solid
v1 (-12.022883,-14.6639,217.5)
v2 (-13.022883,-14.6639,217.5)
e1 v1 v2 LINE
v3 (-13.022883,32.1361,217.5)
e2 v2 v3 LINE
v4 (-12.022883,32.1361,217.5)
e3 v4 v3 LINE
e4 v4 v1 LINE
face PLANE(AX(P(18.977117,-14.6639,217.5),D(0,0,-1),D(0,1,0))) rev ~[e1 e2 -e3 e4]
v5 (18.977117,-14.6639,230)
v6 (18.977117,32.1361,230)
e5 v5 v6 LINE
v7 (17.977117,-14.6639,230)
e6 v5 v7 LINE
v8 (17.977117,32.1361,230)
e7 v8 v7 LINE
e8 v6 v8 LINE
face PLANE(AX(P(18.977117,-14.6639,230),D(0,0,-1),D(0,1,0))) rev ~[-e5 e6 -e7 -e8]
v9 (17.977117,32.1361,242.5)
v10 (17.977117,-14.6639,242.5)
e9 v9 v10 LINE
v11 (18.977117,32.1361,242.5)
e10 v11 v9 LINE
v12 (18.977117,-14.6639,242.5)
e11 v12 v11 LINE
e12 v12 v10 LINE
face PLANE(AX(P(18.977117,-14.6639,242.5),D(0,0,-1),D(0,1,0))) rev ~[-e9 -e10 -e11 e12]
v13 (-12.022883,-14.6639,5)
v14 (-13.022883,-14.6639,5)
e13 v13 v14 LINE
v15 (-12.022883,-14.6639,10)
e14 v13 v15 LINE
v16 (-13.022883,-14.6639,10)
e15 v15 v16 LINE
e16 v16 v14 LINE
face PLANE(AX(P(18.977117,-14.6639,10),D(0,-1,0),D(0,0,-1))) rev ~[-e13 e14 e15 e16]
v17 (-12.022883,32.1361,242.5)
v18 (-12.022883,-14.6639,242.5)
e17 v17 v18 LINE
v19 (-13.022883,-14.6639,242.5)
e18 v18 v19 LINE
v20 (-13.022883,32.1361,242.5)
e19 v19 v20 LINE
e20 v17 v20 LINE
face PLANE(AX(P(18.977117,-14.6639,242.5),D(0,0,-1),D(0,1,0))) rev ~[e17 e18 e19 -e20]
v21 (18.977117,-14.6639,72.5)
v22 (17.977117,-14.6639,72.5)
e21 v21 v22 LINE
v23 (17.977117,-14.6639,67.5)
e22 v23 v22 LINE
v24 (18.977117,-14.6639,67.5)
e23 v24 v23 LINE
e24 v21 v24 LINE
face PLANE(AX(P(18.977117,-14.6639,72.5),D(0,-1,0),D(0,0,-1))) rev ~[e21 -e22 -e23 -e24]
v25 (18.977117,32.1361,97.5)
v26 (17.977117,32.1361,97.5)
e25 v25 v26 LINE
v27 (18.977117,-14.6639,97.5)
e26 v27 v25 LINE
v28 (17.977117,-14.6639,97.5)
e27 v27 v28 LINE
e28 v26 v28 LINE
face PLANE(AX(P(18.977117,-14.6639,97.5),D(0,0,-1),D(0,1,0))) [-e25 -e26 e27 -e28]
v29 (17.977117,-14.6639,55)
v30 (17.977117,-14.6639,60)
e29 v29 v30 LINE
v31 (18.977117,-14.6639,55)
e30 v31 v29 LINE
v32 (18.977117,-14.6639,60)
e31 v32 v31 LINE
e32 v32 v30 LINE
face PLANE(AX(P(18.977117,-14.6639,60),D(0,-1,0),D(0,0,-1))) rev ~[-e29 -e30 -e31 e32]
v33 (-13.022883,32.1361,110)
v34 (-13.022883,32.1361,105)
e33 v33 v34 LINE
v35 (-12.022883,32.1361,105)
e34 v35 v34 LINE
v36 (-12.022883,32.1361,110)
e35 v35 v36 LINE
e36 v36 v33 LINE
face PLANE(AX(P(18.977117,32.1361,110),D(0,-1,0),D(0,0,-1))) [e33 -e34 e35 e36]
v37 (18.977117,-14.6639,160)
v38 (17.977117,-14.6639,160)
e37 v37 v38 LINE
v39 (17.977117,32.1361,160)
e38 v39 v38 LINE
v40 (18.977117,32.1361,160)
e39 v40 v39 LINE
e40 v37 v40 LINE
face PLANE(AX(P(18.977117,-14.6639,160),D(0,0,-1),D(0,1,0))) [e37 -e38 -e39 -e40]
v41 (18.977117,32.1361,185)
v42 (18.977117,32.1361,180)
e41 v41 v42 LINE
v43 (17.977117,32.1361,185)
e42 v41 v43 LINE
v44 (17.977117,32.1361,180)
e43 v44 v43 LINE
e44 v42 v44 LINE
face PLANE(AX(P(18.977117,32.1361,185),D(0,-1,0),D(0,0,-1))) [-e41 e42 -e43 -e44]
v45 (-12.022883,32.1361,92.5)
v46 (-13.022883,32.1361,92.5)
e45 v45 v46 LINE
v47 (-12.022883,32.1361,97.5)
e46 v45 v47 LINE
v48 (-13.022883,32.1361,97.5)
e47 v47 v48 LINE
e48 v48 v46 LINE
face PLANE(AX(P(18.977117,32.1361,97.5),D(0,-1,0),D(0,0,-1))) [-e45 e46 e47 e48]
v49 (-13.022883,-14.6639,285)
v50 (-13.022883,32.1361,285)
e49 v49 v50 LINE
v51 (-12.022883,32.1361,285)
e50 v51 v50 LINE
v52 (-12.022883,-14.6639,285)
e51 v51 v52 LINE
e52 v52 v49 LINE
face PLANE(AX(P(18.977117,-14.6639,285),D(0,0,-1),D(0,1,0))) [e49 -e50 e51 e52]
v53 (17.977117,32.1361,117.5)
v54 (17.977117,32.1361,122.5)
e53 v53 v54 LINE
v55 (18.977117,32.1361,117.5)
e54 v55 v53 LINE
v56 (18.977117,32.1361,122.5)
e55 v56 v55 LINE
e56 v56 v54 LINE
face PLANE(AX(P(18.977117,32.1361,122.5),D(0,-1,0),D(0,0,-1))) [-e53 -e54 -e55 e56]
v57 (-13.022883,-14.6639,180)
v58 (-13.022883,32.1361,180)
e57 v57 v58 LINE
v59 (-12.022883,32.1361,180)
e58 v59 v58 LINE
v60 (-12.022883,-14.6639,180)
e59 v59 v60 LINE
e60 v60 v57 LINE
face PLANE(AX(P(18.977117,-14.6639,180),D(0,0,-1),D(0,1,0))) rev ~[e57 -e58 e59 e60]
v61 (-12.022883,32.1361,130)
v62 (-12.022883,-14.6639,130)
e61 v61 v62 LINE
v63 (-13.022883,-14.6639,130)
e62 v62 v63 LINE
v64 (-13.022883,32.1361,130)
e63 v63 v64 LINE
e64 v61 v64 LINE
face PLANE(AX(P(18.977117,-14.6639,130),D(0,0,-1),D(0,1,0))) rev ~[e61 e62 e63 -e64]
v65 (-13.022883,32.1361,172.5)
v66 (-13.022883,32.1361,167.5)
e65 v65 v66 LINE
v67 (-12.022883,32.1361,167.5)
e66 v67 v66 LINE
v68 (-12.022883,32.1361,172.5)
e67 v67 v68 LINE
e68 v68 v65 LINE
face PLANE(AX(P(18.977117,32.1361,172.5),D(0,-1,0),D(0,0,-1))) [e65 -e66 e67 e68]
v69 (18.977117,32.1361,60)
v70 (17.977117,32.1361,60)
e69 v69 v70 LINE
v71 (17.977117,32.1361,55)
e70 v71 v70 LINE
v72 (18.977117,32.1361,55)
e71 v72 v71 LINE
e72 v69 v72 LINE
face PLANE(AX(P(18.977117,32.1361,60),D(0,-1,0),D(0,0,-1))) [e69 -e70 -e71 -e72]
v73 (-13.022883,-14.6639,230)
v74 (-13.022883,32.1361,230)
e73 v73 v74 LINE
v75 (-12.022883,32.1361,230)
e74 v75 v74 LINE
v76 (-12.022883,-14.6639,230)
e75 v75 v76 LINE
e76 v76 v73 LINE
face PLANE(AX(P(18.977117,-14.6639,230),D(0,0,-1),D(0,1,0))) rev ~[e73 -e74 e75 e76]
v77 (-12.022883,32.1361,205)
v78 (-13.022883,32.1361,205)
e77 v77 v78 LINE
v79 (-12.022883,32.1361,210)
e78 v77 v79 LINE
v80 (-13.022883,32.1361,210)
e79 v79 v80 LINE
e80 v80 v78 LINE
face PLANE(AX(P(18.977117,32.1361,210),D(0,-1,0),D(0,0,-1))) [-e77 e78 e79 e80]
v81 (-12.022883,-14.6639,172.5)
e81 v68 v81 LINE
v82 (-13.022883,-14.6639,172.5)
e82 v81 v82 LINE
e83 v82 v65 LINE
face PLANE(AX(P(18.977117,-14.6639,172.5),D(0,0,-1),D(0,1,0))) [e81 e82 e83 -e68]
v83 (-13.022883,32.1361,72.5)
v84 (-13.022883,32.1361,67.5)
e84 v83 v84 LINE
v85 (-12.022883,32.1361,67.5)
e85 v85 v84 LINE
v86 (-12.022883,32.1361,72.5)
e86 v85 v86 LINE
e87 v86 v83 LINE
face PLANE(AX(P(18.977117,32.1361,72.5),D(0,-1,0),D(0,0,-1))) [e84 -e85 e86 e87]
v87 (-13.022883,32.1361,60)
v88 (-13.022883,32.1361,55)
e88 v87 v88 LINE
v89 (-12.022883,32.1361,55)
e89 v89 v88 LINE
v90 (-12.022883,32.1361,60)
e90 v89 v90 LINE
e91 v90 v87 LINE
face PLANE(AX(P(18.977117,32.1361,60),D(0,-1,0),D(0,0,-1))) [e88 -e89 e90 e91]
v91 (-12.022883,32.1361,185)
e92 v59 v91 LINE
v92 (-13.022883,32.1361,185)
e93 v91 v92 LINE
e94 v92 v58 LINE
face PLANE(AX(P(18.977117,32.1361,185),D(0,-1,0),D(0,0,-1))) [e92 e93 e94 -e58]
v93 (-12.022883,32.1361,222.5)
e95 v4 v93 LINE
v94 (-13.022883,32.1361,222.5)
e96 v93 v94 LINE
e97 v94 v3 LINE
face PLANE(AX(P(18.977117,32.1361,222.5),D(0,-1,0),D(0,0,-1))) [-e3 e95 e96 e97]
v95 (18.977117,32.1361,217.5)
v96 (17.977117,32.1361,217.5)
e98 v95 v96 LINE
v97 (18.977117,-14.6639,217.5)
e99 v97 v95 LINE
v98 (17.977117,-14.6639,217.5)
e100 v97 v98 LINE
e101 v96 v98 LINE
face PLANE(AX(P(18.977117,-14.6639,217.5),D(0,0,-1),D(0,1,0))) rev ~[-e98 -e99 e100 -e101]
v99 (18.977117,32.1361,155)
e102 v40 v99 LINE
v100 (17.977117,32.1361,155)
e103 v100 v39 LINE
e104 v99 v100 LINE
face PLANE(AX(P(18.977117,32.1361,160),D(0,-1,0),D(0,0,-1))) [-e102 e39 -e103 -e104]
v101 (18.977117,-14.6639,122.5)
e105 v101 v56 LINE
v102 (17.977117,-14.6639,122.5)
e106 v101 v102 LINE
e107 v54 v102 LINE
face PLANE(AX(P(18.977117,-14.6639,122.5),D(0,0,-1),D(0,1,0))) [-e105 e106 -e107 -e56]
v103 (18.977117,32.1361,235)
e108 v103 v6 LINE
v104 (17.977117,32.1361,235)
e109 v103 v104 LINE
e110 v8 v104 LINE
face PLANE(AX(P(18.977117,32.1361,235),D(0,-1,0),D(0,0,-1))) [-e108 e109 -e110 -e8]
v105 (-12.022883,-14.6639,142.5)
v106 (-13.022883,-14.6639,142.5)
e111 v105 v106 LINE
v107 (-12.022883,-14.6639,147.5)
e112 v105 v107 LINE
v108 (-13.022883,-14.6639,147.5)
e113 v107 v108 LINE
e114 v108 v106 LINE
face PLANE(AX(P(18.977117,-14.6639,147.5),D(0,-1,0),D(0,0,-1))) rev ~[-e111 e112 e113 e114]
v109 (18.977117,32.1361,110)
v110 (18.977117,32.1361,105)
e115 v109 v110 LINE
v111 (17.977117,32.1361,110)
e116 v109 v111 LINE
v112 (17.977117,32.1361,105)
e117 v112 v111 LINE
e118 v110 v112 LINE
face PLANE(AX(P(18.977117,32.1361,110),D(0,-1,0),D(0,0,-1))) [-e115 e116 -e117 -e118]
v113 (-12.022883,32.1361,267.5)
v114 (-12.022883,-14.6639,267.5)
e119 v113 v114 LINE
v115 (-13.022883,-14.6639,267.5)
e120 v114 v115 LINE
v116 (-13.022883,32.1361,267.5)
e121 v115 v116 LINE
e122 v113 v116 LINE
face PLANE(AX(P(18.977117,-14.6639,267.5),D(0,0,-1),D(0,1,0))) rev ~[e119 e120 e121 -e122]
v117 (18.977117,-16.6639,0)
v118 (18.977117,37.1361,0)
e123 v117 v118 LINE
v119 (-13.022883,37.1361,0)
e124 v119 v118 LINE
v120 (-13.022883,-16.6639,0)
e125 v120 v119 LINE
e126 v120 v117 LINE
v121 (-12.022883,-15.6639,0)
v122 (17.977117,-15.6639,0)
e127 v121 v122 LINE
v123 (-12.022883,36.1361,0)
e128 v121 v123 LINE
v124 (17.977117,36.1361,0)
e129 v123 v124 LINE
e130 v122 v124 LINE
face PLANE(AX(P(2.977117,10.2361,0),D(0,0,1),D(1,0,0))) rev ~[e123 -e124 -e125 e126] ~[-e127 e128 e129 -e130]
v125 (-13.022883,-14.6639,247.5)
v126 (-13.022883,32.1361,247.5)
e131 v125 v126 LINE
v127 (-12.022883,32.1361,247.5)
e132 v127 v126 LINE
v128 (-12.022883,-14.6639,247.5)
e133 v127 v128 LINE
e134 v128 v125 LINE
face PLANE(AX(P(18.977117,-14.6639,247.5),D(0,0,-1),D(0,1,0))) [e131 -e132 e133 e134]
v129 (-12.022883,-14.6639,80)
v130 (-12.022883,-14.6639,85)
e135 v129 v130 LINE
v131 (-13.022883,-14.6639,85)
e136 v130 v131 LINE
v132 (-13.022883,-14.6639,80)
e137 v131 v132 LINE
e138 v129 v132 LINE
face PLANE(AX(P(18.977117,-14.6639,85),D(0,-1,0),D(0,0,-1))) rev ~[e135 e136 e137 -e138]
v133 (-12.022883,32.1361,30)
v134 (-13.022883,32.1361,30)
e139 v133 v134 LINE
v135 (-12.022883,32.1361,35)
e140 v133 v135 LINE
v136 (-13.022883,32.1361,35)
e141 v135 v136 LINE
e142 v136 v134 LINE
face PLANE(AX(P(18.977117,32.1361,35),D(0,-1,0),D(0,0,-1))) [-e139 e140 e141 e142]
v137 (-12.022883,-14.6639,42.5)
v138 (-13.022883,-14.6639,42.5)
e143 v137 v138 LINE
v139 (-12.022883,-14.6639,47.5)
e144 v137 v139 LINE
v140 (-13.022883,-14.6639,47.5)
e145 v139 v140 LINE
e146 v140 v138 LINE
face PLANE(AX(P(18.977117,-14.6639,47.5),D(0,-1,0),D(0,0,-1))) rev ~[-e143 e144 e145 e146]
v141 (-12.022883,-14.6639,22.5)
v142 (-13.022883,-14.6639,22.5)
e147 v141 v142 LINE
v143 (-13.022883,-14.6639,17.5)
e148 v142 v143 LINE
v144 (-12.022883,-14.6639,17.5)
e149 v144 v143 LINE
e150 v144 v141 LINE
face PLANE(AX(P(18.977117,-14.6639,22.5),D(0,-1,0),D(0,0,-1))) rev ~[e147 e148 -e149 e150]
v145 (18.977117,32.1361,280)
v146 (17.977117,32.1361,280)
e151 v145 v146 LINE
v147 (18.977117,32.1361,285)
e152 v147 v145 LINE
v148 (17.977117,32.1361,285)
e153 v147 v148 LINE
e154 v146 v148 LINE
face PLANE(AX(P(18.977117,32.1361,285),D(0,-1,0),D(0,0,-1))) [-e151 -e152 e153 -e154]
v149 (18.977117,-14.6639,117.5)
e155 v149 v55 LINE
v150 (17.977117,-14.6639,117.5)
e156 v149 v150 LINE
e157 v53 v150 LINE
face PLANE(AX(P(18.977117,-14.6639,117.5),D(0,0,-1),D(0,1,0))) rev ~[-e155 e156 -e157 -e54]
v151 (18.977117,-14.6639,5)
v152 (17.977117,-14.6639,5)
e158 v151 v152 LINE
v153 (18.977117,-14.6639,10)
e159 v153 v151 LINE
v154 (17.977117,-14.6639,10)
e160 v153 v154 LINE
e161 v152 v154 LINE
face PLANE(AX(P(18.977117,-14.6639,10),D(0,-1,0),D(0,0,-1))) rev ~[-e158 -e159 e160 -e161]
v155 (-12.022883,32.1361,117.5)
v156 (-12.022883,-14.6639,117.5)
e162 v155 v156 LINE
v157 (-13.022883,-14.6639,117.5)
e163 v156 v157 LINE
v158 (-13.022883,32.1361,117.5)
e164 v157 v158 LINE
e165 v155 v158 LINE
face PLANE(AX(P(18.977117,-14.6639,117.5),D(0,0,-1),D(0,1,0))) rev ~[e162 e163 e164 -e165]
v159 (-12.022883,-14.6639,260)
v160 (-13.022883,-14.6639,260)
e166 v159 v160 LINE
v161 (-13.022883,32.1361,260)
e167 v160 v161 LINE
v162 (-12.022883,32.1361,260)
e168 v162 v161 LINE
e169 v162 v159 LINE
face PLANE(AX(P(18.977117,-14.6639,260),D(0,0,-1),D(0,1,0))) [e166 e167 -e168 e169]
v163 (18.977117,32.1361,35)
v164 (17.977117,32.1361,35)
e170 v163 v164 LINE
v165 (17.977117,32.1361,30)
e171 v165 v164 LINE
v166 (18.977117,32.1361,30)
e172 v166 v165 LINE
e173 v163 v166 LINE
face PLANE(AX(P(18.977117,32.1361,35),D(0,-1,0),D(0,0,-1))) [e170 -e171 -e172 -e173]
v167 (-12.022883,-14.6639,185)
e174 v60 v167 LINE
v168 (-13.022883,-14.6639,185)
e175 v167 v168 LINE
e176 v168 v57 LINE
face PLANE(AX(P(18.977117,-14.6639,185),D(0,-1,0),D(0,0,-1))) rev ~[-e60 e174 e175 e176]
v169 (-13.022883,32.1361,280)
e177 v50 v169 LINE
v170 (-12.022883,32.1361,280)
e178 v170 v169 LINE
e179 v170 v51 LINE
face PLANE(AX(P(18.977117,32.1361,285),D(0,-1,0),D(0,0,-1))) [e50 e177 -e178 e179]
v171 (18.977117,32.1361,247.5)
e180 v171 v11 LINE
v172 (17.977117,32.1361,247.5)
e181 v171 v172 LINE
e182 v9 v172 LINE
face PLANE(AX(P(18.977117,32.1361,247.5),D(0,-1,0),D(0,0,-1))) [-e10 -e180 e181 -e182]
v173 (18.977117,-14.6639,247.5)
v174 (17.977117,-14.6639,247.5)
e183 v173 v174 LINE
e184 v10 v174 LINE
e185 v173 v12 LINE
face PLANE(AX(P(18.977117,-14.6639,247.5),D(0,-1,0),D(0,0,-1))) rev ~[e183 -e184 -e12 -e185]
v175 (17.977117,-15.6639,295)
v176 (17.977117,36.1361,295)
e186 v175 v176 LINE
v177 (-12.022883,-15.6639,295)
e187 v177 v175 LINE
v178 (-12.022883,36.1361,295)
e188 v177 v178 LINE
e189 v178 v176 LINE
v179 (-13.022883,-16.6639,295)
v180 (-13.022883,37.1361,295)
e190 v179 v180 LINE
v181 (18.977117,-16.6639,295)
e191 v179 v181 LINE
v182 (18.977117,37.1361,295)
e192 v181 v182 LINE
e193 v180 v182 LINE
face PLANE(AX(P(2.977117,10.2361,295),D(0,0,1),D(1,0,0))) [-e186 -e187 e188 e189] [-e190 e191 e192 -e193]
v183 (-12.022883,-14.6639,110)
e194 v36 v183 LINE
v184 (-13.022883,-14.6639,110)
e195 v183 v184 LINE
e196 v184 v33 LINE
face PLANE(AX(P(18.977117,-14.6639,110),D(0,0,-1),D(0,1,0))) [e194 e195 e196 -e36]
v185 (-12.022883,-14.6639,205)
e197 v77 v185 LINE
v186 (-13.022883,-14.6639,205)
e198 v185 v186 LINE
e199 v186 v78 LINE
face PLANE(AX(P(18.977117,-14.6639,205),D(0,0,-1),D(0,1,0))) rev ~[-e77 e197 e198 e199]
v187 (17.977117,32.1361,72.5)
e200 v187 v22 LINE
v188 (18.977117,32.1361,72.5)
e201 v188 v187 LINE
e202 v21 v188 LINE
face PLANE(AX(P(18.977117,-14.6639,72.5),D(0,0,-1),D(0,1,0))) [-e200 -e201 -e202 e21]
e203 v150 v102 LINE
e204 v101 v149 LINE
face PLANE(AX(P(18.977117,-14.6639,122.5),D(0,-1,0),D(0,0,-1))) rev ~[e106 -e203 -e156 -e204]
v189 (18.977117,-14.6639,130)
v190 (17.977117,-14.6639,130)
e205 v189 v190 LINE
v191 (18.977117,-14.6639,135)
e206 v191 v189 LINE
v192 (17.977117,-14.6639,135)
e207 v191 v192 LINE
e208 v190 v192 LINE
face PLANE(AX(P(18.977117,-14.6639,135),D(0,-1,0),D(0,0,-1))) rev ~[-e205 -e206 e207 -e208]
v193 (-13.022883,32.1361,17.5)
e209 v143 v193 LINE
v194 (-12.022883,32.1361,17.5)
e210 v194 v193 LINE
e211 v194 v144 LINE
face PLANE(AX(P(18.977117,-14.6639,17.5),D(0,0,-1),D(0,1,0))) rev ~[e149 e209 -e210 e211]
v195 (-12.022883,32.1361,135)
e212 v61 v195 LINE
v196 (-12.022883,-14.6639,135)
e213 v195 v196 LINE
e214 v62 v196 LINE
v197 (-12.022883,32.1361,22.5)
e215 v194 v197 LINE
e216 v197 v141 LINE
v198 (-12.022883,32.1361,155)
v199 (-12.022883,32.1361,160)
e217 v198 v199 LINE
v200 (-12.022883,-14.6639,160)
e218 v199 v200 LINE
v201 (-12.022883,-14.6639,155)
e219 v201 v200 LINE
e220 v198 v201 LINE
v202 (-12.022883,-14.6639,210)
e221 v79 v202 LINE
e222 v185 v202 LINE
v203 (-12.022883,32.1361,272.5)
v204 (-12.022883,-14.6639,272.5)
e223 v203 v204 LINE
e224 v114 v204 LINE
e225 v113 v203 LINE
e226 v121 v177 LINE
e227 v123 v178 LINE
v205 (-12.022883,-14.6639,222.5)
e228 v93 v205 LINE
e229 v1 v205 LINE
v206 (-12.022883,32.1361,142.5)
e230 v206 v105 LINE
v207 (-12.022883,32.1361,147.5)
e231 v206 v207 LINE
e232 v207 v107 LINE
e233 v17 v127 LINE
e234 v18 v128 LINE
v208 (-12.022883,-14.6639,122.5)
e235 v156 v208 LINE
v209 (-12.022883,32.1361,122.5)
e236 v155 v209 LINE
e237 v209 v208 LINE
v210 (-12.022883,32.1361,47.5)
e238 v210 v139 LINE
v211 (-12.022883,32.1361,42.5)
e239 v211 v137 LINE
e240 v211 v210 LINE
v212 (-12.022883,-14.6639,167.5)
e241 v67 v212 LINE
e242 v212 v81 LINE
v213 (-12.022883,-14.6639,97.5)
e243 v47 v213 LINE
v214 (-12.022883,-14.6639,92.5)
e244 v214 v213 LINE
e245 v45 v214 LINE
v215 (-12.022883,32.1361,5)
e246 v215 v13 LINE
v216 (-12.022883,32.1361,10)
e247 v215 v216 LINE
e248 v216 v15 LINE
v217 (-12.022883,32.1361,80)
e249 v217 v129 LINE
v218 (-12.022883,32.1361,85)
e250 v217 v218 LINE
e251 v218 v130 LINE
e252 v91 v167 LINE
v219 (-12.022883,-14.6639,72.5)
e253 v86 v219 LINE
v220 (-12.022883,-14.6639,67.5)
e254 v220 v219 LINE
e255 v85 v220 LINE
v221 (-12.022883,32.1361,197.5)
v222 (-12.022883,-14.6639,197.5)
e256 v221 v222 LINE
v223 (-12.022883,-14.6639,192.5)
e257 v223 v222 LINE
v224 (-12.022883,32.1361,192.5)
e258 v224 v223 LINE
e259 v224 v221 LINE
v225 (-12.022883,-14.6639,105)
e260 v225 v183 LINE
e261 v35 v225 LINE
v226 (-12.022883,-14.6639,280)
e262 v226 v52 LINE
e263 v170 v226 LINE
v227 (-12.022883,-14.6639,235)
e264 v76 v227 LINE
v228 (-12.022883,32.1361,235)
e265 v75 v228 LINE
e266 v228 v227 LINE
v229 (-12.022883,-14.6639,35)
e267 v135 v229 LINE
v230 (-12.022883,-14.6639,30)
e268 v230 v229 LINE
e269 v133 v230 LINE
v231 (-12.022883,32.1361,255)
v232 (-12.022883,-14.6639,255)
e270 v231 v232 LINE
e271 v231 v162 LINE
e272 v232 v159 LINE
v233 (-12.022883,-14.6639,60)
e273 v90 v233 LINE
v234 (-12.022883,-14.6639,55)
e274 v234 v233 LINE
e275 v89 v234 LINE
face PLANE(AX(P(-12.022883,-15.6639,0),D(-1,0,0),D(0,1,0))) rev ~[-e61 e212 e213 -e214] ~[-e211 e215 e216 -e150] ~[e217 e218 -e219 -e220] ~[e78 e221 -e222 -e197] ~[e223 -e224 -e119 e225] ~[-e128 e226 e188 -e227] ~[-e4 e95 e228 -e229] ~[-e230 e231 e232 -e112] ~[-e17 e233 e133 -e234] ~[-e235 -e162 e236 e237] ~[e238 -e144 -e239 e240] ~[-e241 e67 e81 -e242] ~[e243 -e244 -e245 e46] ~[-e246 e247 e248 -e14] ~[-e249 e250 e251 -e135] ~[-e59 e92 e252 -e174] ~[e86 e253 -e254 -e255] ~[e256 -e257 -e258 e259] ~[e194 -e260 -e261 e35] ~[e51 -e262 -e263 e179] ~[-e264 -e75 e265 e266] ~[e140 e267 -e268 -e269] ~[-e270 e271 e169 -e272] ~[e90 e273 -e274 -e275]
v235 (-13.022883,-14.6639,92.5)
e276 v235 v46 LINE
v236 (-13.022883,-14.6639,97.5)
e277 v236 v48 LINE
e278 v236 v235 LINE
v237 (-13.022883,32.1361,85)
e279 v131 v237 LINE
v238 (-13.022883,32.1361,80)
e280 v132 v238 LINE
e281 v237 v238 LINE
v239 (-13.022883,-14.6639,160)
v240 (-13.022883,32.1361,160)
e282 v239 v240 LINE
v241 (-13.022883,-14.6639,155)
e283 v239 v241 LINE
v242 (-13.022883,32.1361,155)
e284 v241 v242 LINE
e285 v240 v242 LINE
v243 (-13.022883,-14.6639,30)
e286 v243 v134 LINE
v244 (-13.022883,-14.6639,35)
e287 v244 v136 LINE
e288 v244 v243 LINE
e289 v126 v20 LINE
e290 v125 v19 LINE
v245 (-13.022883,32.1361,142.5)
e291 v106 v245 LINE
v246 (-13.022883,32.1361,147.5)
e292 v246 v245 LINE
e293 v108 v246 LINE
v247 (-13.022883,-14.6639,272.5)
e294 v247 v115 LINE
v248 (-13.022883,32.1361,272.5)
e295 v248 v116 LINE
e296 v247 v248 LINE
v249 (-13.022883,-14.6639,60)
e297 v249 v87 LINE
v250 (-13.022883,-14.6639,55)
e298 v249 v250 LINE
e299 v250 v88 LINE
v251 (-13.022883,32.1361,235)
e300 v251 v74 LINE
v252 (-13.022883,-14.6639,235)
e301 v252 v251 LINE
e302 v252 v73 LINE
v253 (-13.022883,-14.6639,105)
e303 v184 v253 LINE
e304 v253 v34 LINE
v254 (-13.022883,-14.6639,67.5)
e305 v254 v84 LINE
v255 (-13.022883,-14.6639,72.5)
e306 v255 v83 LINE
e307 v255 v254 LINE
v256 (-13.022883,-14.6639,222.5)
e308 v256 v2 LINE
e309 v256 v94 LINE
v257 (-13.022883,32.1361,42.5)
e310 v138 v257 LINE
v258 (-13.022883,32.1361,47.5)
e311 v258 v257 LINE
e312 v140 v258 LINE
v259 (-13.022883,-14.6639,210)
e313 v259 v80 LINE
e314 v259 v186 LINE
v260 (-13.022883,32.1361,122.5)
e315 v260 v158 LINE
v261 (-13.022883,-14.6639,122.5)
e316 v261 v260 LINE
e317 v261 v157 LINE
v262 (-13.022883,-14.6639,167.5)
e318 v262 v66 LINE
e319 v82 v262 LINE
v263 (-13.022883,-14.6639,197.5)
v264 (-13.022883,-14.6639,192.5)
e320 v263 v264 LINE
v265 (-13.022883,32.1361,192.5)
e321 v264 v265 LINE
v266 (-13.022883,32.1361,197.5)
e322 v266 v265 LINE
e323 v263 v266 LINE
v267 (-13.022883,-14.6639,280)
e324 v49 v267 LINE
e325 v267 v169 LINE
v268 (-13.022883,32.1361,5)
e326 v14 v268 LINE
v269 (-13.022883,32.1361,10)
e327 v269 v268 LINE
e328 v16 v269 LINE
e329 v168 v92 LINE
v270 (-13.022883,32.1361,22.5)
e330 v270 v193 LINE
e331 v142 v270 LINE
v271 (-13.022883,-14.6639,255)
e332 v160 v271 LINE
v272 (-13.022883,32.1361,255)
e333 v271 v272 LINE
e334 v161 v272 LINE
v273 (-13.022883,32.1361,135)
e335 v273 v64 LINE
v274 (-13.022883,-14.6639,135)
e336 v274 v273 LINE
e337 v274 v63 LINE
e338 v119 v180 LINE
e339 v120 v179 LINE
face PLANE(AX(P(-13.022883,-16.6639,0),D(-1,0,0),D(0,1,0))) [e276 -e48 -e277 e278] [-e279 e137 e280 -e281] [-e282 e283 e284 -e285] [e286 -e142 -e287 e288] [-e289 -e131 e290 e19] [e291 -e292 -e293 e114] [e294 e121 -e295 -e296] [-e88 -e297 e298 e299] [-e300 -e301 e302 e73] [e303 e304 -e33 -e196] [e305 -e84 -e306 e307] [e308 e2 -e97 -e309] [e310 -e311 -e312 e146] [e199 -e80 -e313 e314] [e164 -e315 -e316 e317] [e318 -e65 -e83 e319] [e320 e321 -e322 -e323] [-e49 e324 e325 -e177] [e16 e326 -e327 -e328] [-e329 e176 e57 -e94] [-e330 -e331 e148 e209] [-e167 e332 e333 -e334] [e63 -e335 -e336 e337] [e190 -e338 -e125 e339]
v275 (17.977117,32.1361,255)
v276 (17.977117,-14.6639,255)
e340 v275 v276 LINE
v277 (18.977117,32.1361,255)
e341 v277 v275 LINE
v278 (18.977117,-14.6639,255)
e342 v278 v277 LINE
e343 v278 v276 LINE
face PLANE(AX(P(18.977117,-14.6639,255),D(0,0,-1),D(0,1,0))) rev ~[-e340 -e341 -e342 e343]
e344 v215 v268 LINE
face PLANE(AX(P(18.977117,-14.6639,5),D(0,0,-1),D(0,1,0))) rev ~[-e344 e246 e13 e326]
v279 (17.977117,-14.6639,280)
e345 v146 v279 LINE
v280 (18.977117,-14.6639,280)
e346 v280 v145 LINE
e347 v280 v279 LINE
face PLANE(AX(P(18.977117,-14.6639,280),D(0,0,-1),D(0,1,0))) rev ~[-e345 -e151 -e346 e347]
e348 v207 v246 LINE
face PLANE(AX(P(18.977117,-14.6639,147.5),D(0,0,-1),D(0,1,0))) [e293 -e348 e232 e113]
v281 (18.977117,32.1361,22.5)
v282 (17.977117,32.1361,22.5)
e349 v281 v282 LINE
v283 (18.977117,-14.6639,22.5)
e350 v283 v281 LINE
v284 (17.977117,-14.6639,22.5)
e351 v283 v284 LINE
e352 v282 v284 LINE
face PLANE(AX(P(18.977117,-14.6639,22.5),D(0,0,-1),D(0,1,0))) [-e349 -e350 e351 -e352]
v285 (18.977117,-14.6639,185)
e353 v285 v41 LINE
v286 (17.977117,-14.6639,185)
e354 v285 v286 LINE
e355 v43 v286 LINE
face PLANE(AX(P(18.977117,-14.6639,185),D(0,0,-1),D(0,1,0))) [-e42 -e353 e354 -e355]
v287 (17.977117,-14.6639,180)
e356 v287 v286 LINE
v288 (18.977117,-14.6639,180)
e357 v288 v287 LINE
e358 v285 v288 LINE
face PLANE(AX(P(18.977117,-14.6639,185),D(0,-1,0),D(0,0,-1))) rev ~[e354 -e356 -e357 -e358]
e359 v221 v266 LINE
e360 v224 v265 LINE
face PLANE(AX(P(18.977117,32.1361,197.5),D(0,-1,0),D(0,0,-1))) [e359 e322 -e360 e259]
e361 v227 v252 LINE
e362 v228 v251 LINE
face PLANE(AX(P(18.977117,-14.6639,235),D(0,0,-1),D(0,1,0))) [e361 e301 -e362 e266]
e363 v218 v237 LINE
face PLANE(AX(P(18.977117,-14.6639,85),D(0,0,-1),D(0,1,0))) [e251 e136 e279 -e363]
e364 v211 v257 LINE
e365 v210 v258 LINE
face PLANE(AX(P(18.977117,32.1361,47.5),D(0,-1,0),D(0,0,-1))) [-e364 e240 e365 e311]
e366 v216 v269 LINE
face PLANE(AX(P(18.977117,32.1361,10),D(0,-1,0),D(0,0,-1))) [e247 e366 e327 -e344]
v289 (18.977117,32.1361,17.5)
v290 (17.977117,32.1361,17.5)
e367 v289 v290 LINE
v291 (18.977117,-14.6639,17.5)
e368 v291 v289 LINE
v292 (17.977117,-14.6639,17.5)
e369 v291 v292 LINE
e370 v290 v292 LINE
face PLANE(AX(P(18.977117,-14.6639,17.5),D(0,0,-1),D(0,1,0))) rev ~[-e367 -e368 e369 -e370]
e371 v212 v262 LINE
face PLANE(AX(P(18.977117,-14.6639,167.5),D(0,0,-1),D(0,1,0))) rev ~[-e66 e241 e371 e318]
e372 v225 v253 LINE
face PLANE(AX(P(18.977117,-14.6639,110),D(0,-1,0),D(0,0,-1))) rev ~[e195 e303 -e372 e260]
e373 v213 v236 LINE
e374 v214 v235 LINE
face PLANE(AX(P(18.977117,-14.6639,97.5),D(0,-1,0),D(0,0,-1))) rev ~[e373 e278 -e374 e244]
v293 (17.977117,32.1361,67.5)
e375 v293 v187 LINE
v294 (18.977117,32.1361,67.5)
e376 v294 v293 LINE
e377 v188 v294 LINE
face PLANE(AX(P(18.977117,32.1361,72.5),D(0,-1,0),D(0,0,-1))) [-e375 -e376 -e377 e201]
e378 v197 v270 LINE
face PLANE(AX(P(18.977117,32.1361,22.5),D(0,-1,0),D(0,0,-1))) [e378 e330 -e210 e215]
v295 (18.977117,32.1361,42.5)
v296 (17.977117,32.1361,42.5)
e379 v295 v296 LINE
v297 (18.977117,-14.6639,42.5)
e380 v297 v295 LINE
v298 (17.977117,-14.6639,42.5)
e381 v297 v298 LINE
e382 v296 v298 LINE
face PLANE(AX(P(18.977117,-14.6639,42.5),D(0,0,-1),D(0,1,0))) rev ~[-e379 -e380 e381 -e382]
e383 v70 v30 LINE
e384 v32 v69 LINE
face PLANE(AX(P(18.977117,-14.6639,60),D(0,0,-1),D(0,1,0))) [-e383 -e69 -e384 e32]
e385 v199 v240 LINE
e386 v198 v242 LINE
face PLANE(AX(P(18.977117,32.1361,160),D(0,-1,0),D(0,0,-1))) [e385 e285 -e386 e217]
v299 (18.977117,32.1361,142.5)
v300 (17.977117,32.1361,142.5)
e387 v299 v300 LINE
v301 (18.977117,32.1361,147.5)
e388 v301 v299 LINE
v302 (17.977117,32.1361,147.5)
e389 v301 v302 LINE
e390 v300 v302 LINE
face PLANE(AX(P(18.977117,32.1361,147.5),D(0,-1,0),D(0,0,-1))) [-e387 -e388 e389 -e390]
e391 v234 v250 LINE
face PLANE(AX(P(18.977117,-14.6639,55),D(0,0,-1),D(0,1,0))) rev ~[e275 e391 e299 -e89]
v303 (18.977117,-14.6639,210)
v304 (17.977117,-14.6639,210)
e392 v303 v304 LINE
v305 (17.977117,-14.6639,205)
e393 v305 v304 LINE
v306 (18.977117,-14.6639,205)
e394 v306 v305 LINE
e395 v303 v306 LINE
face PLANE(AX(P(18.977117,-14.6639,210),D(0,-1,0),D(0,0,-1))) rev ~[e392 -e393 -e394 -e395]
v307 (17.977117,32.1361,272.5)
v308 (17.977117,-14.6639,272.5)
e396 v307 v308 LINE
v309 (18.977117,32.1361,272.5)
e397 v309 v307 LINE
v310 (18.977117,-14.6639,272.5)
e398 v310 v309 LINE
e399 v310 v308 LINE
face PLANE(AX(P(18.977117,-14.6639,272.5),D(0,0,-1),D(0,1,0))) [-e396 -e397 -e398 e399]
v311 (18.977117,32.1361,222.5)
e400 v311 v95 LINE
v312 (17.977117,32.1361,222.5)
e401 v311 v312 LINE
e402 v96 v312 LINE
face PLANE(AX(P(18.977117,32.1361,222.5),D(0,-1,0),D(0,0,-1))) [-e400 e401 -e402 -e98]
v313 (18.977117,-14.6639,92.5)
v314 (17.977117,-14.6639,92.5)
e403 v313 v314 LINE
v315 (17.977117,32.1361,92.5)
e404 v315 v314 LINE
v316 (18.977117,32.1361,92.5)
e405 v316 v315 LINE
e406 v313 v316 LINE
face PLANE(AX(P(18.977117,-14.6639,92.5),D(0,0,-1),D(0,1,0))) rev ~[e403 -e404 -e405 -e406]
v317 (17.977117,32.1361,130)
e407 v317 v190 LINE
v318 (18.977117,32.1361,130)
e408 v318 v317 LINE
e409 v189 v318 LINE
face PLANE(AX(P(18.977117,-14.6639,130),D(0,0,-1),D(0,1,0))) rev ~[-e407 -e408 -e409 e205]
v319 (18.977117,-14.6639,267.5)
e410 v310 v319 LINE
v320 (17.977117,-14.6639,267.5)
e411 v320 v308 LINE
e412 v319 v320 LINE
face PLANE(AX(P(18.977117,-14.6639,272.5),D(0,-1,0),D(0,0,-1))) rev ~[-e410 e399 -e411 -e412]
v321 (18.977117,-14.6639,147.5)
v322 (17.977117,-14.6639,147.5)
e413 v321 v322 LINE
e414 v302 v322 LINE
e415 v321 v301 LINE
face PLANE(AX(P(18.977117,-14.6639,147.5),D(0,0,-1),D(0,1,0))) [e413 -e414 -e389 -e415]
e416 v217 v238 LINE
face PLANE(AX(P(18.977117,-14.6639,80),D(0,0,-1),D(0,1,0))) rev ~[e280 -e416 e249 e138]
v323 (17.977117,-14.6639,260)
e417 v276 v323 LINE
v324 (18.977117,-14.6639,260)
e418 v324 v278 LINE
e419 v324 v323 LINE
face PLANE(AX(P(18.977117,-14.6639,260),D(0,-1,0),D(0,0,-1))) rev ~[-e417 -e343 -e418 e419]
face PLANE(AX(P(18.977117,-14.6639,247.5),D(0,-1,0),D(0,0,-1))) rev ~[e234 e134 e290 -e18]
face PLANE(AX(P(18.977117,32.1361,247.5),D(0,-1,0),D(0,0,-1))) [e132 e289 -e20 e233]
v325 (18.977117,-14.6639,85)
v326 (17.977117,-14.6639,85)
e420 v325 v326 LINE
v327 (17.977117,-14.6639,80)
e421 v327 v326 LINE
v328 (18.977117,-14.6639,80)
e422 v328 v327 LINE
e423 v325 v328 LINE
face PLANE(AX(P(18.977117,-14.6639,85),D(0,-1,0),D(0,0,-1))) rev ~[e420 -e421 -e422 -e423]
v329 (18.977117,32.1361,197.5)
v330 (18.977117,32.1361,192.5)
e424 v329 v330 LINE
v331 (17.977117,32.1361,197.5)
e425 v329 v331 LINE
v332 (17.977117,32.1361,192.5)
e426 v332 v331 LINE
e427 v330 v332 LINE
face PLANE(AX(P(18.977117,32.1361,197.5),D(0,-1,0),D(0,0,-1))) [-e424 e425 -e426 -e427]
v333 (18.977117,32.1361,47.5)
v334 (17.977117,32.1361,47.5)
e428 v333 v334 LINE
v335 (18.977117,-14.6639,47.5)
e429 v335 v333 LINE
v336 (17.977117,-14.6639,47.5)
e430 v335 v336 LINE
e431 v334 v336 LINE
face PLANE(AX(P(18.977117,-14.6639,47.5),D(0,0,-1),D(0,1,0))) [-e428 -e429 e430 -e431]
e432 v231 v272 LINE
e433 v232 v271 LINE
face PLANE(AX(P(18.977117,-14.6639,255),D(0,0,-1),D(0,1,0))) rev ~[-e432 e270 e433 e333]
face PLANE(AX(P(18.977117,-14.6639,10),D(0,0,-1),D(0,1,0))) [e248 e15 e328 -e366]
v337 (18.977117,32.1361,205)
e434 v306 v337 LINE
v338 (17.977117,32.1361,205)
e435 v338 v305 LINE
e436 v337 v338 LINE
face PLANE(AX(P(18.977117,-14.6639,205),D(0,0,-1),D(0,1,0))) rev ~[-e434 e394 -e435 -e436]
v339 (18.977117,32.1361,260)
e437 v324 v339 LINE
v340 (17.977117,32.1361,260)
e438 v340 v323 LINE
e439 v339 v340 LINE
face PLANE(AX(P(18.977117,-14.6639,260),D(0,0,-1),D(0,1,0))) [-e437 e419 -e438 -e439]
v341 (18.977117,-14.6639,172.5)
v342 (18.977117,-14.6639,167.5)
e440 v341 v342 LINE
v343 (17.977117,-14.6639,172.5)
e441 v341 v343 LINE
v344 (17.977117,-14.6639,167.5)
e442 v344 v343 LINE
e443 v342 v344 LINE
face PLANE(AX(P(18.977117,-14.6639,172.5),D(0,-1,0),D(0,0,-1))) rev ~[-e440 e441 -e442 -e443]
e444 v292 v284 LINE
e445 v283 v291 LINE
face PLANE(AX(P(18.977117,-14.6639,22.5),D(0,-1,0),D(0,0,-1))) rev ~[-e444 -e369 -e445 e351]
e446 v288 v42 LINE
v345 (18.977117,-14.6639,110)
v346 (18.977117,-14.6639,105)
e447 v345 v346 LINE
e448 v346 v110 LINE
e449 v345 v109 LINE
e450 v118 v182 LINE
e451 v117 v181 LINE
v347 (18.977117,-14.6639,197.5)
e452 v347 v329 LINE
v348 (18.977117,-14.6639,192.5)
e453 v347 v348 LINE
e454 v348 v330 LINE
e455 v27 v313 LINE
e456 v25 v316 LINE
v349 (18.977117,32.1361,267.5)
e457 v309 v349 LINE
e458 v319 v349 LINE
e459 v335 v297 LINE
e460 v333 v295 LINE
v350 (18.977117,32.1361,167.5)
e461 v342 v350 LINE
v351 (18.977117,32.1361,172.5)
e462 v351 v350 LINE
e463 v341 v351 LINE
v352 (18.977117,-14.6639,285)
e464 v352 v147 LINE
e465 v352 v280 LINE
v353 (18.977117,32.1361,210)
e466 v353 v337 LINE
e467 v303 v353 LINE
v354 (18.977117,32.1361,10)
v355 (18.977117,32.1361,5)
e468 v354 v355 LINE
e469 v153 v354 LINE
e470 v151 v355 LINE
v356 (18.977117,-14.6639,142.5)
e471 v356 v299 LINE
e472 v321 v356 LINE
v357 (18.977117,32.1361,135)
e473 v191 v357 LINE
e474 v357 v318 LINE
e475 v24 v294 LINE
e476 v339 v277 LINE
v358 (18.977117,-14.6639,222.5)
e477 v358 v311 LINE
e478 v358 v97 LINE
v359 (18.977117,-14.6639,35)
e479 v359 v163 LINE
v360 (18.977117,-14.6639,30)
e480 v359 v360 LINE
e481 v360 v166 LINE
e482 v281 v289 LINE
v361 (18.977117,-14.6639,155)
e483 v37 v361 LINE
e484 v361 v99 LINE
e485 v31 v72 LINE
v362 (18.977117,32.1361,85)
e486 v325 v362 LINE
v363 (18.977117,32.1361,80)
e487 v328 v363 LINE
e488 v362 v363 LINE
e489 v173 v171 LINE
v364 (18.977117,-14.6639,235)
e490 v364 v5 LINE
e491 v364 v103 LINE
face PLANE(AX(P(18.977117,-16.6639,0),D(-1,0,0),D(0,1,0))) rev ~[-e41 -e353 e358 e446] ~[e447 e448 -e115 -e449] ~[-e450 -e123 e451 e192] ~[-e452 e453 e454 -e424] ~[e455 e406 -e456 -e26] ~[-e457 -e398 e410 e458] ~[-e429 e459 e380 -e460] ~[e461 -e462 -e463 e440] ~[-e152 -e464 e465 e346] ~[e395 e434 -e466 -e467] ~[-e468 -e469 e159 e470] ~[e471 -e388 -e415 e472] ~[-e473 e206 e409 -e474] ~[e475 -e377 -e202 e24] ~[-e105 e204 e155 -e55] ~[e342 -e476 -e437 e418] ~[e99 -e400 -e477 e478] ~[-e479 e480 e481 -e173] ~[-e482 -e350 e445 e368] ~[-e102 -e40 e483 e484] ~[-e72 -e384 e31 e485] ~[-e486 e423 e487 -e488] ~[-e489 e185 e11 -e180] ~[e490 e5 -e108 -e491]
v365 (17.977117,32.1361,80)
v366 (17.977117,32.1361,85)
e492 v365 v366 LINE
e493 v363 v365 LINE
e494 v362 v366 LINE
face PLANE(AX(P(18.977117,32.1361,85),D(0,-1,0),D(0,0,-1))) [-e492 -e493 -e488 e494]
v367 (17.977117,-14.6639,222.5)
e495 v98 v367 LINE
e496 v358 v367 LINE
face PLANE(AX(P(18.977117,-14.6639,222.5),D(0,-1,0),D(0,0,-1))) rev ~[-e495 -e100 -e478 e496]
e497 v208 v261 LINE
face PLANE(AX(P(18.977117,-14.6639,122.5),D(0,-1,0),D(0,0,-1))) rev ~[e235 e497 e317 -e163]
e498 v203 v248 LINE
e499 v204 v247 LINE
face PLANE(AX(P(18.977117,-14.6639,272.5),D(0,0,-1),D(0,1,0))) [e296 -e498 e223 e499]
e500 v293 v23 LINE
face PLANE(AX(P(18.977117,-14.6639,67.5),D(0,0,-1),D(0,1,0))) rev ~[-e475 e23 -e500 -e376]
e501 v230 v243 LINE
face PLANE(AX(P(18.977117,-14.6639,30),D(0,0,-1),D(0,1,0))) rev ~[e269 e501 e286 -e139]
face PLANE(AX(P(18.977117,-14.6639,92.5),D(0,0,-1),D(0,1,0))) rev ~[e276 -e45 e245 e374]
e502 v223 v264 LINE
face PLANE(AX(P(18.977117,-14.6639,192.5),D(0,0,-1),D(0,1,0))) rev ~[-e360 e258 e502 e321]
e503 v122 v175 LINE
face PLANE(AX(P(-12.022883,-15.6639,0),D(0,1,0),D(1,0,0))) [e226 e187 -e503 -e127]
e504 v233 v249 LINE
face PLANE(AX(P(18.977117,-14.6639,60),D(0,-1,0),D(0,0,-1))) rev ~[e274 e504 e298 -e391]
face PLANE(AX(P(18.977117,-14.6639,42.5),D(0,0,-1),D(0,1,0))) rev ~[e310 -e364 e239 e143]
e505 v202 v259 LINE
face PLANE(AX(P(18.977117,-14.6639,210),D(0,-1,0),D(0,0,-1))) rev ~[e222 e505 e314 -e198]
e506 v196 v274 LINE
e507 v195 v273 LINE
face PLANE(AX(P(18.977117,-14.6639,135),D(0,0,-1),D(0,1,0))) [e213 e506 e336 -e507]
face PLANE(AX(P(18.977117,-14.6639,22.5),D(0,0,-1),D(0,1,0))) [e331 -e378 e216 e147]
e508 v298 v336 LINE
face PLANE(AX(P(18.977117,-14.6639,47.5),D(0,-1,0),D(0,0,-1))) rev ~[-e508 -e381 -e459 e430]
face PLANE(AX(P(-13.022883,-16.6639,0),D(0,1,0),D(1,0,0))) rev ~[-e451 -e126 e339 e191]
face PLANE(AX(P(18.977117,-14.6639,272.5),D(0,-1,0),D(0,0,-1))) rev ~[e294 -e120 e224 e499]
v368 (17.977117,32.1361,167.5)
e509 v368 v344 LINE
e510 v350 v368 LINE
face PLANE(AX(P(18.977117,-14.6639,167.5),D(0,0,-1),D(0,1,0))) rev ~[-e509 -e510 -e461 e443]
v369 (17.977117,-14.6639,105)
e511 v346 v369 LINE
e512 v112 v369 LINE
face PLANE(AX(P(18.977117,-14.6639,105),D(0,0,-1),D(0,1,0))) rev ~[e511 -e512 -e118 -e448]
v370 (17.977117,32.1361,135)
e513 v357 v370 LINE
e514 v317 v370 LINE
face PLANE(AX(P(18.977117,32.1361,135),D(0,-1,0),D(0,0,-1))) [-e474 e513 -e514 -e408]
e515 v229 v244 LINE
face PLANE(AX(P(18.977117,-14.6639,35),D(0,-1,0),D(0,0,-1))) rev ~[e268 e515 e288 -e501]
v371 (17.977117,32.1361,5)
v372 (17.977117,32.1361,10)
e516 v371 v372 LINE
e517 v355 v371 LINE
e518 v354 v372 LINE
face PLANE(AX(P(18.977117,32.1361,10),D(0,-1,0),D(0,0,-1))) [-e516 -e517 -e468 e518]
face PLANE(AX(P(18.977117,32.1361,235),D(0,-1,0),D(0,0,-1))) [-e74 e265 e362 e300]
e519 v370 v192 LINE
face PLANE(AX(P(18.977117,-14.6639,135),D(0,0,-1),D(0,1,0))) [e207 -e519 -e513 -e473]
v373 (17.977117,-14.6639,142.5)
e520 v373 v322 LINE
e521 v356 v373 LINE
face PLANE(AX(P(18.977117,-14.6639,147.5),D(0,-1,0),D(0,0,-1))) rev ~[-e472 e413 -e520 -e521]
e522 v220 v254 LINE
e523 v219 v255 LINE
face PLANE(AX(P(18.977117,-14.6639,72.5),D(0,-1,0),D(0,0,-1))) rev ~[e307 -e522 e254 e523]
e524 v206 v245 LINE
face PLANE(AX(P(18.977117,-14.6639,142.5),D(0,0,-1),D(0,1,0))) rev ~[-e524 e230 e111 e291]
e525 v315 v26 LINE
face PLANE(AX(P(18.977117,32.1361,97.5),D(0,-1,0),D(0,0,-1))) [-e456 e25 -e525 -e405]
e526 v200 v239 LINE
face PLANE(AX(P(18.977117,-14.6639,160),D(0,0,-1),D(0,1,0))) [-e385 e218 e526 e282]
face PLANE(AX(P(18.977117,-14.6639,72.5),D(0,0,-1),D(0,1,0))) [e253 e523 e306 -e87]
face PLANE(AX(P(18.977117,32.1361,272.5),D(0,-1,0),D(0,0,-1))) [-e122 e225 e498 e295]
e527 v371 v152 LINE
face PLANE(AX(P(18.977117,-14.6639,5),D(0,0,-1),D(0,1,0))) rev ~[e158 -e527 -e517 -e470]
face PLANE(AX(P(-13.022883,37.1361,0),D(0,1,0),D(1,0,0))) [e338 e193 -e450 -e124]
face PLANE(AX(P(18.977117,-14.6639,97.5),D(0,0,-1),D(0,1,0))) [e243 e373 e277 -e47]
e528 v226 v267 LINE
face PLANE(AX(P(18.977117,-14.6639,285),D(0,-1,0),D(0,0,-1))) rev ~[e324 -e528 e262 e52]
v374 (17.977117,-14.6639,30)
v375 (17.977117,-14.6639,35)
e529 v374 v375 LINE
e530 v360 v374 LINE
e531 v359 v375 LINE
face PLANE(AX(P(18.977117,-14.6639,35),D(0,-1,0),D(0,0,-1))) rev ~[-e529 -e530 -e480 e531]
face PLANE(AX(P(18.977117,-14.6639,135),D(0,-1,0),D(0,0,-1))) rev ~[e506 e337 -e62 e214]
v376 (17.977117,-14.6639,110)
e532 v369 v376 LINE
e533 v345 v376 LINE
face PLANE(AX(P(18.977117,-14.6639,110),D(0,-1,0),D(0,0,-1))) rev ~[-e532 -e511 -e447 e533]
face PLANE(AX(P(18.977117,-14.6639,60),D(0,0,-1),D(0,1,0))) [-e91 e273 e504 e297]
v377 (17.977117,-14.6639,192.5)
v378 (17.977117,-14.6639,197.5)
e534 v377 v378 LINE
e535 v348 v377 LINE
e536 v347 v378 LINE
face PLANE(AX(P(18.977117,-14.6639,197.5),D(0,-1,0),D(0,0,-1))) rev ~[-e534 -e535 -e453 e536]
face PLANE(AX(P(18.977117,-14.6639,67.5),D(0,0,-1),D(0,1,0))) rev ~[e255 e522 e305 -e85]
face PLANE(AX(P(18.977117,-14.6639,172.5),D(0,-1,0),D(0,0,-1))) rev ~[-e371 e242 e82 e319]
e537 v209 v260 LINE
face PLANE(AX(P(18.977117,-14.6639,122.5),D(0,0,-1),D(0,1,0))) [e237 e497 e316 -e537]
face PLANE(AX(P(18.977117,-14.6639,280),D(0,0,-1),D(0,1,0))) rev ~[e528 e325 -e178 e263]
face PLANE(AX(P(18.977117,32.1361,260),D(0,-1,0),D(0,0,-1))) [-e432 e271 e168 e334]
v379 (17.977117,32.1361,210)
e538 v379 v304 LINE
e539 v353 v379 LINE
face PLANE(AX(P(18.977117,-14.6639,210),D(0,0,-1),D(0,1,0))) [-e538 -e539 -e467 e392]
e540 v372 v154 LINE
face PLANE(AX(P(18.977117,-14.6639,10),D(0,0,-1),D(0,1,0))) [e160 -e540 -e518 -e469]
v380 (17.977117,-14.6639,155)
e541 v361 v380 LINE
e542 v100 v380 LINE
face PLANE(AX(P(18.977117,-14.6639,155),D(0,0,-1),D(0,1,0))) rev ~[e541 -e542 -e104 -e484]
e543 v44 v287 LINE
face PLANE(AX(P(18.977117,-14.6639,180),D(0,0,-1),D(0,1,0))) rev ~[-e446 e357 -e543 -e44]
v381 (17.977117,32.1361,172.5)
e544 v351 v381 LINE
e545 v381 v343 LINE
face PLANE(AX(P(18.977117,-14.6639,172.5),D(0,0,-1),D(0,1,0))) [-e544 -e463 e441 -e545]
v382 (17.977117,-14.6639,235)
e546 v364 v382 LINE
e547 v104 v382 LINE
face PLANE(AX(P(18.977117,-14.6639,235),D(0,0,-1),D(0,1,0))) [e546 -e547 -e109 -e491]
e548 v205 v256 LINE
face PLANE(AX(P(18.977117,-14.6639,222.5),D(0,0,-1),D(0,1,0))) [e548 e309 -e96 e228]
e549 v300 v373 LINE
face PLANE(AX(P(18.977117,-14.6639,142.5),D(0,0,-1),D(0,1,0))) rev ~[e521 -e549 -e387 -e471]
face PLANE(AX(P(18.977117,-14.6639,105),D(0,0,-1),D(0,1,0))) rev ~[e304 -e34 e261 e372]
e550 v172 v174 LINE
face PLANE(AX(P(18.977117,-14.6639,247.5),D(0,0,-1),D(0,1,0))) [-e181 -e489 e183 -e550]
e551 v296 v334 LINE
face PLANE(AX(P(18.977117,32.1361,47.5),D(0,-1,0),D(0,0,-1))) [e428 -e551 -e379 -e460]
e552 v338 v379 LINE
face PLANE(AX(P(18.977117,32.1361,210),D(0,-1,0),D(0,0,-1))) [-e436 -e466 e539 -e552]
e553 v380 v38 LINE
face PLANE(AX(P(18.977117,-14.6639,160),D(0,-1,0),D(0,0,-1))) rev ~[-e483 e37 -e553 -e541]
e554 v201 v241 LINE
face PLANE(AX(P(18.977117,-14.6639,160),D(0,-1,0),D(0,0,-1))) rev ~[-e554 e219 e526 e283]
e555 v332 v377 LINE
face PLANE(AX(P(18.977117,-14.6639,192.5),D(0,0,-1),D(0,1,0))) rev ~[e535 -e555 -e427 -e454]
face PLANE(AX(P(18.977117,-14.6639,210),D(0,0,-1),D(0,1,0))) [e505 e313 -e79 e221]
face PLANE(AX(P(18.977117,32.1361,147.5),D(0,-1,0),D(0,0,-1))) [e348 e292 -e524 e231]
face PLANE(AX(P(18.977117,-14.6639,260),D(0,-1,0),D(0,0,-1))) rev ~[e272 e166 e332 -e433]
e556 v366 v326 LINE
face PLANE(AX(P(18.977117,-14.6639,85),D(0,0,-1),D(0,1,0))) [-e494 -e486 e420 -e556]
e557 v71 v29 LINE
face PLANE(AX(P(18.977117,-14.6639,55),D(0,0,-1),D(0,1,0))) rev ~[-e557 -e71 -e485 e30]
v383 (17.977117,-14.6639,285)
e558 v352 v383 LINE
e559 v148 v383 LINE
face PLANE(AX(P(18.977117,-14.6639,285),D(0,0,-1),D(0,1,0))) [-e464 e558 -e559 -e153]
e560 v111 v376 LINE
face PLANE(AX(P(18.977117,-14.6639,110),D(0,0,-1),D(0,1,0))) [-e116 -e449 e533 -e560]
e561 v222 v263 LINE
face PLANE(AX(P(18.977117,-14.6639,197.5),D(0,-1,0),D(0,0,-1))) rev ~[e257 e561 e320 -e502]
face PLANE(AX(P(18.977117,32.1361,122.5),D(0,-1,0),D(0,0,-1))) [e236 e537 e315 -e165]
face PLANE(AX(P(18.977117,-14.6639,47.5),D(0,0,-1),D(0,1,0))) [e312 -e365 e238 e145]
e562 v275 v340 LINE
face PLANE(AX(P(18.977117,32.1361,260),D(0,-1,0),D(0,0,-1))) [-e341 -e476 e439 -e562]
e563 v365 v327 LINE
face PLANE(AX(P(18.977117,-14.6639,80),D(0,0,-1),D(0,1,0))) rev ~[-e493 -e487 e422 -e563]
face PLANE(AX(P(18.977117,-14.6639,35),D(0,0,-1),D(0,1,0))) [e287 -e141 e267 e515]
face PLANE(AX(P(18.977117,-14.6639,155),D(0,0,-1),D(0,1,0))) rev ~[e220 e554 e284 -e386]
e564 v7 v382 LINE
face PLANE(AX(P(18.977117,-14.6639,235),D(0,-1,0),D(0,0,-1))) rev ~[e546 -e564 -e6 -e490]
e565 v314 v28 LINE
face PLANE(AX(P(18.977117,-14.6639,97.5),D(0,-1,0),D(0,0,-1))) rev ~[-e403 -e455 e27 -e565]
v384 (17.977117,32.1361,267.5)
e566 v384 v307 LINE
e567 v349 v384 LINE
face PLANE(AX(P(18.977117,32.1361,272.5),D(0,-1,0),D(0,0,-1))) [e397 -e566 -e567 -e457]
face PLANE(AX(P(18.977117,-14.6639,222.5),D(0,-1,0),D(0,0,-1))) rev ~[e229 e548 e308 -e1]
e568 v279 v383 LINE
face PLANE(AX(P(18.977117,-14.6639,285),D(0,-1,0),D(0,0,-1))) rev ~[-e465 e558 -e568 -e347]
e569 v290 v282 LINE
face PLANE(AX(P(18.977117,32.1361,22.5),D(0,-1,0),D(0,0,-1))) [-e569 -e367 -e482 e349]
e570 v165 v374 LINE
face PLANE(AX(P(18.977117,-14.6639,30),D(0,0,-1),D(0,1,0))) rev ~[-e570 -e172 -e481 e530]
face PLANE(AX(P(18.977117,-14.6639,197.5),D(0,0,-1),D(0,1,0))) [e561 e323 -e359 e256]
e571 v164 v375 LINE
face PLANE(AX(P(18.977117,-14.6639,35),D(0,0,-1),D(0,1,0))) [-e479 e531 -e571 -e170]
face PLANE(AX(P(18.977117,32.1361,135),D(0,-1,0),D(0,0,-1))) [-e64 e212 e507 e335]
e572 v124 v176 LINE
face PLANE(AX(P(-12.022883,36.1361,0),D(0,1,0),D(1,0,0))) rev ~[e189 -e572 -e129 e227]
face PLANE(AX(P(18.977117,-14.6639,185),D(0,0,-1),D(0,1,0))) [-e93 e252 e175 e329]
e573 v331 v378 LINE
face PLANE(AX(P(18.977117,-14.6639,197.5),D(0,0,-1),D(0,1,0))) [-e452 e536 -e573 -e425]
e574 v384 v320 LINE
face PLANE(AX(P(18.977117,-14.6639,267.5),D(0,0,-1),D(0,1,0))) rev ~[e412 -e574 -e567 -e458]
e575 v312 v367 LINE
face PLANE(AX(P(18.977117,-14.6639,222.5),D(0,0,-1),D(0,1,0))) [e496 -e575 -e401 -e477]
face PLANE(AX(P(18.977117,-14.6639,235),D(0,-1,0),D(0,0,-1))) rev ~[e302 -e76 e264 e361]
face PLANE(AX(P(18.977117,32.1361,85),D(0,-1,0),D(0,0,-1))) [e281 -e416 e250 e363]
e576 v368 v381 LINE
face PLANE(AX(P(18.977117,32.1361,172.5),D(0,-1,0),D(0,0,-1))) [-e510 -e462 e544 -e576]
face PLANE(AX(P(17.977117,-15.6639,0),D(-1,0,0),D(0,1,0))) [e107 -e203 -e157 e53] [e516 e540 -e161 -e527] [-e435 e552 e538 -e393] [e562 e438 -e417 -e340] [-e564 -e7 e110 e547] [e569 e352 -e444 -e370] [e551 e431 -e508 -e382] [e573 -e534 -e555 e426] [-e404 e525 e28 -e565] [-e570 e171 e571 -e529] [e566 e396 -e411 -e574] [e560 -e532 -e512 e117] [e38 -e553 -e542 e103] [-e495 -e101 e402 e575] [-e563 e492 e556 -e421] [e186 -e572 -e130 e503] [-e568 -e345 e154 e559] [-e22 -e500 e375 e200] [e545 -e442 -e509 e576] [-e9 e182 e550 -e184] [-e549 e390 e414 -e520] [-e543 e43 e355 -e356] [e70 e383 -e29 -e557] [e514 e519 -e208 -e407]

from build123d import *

# Parameters (mm, degrees)
ESQUISSE1_W                = 32
ESQUISSE1_H                = 53.8
ESQUISSE1_W_2              = 30
ESQUISSE1_H_2              = 51.8
BOSS_EXTRU_1_DEPTH         = 295
ESQUISSE2_W                = 5
ESQUISSE2_H                = 46.8
ENL_V_MAT_EXTRU_1_DEPTH    = 32
R_P_TITION_LIN_AIRE1_COUNT = 23
R_P_TITION_LIN_AIRE1_PITCH = 12.5


with BuildPart() as part:
    # Esquisse1 → Boss.-Extru.1 (new body)
    with BuildSketch(Plane.XY):
        with Locations((2.977116986, 10.236099585)):
            Rectangle(ESQUISSE1_W, ESQUISSE1_H)
        with Locations((2.977116986, 10.236099585)):
            Rectangle(ESQUISSE1_W_2, ESQUISSE1_H_2, mode=Mode.SUBTRACT)
    extrude(amount=BOSS_EXTRU_1_DEPTH)

    # Esquisse2 → Enlèv. mat.-Extru.1 (cut)
    with BuildSketch(Plane(origin=(18.977116986, 0, 0), x_dir=(0, 0, -1), z_dir=(1, 0, 0))):
        with Locations((-7.5, 8.736099585)):
            Rectangle(ESQUISSE2_W, ESQUISSE2_H)
    enl_v_mat_extru_1 = extrude(amount=-ENL_V_MAT_EXTRU_1_DEPTH, mode=Mode.SUBTRACT)

    # Répétition linéaire1: Enlèv. mat.-Extru.1 ×23
    with Locations(*[(0, 0, i * R_P_TITION_LIN_AIRE1_PITCH) for i in range(1, R_P_TITION_LIN_AIRE1_COUNT)]):
        add(enl_v_mat_extru_1, mode=Mode.SUBTRACT)


solid = part.part
